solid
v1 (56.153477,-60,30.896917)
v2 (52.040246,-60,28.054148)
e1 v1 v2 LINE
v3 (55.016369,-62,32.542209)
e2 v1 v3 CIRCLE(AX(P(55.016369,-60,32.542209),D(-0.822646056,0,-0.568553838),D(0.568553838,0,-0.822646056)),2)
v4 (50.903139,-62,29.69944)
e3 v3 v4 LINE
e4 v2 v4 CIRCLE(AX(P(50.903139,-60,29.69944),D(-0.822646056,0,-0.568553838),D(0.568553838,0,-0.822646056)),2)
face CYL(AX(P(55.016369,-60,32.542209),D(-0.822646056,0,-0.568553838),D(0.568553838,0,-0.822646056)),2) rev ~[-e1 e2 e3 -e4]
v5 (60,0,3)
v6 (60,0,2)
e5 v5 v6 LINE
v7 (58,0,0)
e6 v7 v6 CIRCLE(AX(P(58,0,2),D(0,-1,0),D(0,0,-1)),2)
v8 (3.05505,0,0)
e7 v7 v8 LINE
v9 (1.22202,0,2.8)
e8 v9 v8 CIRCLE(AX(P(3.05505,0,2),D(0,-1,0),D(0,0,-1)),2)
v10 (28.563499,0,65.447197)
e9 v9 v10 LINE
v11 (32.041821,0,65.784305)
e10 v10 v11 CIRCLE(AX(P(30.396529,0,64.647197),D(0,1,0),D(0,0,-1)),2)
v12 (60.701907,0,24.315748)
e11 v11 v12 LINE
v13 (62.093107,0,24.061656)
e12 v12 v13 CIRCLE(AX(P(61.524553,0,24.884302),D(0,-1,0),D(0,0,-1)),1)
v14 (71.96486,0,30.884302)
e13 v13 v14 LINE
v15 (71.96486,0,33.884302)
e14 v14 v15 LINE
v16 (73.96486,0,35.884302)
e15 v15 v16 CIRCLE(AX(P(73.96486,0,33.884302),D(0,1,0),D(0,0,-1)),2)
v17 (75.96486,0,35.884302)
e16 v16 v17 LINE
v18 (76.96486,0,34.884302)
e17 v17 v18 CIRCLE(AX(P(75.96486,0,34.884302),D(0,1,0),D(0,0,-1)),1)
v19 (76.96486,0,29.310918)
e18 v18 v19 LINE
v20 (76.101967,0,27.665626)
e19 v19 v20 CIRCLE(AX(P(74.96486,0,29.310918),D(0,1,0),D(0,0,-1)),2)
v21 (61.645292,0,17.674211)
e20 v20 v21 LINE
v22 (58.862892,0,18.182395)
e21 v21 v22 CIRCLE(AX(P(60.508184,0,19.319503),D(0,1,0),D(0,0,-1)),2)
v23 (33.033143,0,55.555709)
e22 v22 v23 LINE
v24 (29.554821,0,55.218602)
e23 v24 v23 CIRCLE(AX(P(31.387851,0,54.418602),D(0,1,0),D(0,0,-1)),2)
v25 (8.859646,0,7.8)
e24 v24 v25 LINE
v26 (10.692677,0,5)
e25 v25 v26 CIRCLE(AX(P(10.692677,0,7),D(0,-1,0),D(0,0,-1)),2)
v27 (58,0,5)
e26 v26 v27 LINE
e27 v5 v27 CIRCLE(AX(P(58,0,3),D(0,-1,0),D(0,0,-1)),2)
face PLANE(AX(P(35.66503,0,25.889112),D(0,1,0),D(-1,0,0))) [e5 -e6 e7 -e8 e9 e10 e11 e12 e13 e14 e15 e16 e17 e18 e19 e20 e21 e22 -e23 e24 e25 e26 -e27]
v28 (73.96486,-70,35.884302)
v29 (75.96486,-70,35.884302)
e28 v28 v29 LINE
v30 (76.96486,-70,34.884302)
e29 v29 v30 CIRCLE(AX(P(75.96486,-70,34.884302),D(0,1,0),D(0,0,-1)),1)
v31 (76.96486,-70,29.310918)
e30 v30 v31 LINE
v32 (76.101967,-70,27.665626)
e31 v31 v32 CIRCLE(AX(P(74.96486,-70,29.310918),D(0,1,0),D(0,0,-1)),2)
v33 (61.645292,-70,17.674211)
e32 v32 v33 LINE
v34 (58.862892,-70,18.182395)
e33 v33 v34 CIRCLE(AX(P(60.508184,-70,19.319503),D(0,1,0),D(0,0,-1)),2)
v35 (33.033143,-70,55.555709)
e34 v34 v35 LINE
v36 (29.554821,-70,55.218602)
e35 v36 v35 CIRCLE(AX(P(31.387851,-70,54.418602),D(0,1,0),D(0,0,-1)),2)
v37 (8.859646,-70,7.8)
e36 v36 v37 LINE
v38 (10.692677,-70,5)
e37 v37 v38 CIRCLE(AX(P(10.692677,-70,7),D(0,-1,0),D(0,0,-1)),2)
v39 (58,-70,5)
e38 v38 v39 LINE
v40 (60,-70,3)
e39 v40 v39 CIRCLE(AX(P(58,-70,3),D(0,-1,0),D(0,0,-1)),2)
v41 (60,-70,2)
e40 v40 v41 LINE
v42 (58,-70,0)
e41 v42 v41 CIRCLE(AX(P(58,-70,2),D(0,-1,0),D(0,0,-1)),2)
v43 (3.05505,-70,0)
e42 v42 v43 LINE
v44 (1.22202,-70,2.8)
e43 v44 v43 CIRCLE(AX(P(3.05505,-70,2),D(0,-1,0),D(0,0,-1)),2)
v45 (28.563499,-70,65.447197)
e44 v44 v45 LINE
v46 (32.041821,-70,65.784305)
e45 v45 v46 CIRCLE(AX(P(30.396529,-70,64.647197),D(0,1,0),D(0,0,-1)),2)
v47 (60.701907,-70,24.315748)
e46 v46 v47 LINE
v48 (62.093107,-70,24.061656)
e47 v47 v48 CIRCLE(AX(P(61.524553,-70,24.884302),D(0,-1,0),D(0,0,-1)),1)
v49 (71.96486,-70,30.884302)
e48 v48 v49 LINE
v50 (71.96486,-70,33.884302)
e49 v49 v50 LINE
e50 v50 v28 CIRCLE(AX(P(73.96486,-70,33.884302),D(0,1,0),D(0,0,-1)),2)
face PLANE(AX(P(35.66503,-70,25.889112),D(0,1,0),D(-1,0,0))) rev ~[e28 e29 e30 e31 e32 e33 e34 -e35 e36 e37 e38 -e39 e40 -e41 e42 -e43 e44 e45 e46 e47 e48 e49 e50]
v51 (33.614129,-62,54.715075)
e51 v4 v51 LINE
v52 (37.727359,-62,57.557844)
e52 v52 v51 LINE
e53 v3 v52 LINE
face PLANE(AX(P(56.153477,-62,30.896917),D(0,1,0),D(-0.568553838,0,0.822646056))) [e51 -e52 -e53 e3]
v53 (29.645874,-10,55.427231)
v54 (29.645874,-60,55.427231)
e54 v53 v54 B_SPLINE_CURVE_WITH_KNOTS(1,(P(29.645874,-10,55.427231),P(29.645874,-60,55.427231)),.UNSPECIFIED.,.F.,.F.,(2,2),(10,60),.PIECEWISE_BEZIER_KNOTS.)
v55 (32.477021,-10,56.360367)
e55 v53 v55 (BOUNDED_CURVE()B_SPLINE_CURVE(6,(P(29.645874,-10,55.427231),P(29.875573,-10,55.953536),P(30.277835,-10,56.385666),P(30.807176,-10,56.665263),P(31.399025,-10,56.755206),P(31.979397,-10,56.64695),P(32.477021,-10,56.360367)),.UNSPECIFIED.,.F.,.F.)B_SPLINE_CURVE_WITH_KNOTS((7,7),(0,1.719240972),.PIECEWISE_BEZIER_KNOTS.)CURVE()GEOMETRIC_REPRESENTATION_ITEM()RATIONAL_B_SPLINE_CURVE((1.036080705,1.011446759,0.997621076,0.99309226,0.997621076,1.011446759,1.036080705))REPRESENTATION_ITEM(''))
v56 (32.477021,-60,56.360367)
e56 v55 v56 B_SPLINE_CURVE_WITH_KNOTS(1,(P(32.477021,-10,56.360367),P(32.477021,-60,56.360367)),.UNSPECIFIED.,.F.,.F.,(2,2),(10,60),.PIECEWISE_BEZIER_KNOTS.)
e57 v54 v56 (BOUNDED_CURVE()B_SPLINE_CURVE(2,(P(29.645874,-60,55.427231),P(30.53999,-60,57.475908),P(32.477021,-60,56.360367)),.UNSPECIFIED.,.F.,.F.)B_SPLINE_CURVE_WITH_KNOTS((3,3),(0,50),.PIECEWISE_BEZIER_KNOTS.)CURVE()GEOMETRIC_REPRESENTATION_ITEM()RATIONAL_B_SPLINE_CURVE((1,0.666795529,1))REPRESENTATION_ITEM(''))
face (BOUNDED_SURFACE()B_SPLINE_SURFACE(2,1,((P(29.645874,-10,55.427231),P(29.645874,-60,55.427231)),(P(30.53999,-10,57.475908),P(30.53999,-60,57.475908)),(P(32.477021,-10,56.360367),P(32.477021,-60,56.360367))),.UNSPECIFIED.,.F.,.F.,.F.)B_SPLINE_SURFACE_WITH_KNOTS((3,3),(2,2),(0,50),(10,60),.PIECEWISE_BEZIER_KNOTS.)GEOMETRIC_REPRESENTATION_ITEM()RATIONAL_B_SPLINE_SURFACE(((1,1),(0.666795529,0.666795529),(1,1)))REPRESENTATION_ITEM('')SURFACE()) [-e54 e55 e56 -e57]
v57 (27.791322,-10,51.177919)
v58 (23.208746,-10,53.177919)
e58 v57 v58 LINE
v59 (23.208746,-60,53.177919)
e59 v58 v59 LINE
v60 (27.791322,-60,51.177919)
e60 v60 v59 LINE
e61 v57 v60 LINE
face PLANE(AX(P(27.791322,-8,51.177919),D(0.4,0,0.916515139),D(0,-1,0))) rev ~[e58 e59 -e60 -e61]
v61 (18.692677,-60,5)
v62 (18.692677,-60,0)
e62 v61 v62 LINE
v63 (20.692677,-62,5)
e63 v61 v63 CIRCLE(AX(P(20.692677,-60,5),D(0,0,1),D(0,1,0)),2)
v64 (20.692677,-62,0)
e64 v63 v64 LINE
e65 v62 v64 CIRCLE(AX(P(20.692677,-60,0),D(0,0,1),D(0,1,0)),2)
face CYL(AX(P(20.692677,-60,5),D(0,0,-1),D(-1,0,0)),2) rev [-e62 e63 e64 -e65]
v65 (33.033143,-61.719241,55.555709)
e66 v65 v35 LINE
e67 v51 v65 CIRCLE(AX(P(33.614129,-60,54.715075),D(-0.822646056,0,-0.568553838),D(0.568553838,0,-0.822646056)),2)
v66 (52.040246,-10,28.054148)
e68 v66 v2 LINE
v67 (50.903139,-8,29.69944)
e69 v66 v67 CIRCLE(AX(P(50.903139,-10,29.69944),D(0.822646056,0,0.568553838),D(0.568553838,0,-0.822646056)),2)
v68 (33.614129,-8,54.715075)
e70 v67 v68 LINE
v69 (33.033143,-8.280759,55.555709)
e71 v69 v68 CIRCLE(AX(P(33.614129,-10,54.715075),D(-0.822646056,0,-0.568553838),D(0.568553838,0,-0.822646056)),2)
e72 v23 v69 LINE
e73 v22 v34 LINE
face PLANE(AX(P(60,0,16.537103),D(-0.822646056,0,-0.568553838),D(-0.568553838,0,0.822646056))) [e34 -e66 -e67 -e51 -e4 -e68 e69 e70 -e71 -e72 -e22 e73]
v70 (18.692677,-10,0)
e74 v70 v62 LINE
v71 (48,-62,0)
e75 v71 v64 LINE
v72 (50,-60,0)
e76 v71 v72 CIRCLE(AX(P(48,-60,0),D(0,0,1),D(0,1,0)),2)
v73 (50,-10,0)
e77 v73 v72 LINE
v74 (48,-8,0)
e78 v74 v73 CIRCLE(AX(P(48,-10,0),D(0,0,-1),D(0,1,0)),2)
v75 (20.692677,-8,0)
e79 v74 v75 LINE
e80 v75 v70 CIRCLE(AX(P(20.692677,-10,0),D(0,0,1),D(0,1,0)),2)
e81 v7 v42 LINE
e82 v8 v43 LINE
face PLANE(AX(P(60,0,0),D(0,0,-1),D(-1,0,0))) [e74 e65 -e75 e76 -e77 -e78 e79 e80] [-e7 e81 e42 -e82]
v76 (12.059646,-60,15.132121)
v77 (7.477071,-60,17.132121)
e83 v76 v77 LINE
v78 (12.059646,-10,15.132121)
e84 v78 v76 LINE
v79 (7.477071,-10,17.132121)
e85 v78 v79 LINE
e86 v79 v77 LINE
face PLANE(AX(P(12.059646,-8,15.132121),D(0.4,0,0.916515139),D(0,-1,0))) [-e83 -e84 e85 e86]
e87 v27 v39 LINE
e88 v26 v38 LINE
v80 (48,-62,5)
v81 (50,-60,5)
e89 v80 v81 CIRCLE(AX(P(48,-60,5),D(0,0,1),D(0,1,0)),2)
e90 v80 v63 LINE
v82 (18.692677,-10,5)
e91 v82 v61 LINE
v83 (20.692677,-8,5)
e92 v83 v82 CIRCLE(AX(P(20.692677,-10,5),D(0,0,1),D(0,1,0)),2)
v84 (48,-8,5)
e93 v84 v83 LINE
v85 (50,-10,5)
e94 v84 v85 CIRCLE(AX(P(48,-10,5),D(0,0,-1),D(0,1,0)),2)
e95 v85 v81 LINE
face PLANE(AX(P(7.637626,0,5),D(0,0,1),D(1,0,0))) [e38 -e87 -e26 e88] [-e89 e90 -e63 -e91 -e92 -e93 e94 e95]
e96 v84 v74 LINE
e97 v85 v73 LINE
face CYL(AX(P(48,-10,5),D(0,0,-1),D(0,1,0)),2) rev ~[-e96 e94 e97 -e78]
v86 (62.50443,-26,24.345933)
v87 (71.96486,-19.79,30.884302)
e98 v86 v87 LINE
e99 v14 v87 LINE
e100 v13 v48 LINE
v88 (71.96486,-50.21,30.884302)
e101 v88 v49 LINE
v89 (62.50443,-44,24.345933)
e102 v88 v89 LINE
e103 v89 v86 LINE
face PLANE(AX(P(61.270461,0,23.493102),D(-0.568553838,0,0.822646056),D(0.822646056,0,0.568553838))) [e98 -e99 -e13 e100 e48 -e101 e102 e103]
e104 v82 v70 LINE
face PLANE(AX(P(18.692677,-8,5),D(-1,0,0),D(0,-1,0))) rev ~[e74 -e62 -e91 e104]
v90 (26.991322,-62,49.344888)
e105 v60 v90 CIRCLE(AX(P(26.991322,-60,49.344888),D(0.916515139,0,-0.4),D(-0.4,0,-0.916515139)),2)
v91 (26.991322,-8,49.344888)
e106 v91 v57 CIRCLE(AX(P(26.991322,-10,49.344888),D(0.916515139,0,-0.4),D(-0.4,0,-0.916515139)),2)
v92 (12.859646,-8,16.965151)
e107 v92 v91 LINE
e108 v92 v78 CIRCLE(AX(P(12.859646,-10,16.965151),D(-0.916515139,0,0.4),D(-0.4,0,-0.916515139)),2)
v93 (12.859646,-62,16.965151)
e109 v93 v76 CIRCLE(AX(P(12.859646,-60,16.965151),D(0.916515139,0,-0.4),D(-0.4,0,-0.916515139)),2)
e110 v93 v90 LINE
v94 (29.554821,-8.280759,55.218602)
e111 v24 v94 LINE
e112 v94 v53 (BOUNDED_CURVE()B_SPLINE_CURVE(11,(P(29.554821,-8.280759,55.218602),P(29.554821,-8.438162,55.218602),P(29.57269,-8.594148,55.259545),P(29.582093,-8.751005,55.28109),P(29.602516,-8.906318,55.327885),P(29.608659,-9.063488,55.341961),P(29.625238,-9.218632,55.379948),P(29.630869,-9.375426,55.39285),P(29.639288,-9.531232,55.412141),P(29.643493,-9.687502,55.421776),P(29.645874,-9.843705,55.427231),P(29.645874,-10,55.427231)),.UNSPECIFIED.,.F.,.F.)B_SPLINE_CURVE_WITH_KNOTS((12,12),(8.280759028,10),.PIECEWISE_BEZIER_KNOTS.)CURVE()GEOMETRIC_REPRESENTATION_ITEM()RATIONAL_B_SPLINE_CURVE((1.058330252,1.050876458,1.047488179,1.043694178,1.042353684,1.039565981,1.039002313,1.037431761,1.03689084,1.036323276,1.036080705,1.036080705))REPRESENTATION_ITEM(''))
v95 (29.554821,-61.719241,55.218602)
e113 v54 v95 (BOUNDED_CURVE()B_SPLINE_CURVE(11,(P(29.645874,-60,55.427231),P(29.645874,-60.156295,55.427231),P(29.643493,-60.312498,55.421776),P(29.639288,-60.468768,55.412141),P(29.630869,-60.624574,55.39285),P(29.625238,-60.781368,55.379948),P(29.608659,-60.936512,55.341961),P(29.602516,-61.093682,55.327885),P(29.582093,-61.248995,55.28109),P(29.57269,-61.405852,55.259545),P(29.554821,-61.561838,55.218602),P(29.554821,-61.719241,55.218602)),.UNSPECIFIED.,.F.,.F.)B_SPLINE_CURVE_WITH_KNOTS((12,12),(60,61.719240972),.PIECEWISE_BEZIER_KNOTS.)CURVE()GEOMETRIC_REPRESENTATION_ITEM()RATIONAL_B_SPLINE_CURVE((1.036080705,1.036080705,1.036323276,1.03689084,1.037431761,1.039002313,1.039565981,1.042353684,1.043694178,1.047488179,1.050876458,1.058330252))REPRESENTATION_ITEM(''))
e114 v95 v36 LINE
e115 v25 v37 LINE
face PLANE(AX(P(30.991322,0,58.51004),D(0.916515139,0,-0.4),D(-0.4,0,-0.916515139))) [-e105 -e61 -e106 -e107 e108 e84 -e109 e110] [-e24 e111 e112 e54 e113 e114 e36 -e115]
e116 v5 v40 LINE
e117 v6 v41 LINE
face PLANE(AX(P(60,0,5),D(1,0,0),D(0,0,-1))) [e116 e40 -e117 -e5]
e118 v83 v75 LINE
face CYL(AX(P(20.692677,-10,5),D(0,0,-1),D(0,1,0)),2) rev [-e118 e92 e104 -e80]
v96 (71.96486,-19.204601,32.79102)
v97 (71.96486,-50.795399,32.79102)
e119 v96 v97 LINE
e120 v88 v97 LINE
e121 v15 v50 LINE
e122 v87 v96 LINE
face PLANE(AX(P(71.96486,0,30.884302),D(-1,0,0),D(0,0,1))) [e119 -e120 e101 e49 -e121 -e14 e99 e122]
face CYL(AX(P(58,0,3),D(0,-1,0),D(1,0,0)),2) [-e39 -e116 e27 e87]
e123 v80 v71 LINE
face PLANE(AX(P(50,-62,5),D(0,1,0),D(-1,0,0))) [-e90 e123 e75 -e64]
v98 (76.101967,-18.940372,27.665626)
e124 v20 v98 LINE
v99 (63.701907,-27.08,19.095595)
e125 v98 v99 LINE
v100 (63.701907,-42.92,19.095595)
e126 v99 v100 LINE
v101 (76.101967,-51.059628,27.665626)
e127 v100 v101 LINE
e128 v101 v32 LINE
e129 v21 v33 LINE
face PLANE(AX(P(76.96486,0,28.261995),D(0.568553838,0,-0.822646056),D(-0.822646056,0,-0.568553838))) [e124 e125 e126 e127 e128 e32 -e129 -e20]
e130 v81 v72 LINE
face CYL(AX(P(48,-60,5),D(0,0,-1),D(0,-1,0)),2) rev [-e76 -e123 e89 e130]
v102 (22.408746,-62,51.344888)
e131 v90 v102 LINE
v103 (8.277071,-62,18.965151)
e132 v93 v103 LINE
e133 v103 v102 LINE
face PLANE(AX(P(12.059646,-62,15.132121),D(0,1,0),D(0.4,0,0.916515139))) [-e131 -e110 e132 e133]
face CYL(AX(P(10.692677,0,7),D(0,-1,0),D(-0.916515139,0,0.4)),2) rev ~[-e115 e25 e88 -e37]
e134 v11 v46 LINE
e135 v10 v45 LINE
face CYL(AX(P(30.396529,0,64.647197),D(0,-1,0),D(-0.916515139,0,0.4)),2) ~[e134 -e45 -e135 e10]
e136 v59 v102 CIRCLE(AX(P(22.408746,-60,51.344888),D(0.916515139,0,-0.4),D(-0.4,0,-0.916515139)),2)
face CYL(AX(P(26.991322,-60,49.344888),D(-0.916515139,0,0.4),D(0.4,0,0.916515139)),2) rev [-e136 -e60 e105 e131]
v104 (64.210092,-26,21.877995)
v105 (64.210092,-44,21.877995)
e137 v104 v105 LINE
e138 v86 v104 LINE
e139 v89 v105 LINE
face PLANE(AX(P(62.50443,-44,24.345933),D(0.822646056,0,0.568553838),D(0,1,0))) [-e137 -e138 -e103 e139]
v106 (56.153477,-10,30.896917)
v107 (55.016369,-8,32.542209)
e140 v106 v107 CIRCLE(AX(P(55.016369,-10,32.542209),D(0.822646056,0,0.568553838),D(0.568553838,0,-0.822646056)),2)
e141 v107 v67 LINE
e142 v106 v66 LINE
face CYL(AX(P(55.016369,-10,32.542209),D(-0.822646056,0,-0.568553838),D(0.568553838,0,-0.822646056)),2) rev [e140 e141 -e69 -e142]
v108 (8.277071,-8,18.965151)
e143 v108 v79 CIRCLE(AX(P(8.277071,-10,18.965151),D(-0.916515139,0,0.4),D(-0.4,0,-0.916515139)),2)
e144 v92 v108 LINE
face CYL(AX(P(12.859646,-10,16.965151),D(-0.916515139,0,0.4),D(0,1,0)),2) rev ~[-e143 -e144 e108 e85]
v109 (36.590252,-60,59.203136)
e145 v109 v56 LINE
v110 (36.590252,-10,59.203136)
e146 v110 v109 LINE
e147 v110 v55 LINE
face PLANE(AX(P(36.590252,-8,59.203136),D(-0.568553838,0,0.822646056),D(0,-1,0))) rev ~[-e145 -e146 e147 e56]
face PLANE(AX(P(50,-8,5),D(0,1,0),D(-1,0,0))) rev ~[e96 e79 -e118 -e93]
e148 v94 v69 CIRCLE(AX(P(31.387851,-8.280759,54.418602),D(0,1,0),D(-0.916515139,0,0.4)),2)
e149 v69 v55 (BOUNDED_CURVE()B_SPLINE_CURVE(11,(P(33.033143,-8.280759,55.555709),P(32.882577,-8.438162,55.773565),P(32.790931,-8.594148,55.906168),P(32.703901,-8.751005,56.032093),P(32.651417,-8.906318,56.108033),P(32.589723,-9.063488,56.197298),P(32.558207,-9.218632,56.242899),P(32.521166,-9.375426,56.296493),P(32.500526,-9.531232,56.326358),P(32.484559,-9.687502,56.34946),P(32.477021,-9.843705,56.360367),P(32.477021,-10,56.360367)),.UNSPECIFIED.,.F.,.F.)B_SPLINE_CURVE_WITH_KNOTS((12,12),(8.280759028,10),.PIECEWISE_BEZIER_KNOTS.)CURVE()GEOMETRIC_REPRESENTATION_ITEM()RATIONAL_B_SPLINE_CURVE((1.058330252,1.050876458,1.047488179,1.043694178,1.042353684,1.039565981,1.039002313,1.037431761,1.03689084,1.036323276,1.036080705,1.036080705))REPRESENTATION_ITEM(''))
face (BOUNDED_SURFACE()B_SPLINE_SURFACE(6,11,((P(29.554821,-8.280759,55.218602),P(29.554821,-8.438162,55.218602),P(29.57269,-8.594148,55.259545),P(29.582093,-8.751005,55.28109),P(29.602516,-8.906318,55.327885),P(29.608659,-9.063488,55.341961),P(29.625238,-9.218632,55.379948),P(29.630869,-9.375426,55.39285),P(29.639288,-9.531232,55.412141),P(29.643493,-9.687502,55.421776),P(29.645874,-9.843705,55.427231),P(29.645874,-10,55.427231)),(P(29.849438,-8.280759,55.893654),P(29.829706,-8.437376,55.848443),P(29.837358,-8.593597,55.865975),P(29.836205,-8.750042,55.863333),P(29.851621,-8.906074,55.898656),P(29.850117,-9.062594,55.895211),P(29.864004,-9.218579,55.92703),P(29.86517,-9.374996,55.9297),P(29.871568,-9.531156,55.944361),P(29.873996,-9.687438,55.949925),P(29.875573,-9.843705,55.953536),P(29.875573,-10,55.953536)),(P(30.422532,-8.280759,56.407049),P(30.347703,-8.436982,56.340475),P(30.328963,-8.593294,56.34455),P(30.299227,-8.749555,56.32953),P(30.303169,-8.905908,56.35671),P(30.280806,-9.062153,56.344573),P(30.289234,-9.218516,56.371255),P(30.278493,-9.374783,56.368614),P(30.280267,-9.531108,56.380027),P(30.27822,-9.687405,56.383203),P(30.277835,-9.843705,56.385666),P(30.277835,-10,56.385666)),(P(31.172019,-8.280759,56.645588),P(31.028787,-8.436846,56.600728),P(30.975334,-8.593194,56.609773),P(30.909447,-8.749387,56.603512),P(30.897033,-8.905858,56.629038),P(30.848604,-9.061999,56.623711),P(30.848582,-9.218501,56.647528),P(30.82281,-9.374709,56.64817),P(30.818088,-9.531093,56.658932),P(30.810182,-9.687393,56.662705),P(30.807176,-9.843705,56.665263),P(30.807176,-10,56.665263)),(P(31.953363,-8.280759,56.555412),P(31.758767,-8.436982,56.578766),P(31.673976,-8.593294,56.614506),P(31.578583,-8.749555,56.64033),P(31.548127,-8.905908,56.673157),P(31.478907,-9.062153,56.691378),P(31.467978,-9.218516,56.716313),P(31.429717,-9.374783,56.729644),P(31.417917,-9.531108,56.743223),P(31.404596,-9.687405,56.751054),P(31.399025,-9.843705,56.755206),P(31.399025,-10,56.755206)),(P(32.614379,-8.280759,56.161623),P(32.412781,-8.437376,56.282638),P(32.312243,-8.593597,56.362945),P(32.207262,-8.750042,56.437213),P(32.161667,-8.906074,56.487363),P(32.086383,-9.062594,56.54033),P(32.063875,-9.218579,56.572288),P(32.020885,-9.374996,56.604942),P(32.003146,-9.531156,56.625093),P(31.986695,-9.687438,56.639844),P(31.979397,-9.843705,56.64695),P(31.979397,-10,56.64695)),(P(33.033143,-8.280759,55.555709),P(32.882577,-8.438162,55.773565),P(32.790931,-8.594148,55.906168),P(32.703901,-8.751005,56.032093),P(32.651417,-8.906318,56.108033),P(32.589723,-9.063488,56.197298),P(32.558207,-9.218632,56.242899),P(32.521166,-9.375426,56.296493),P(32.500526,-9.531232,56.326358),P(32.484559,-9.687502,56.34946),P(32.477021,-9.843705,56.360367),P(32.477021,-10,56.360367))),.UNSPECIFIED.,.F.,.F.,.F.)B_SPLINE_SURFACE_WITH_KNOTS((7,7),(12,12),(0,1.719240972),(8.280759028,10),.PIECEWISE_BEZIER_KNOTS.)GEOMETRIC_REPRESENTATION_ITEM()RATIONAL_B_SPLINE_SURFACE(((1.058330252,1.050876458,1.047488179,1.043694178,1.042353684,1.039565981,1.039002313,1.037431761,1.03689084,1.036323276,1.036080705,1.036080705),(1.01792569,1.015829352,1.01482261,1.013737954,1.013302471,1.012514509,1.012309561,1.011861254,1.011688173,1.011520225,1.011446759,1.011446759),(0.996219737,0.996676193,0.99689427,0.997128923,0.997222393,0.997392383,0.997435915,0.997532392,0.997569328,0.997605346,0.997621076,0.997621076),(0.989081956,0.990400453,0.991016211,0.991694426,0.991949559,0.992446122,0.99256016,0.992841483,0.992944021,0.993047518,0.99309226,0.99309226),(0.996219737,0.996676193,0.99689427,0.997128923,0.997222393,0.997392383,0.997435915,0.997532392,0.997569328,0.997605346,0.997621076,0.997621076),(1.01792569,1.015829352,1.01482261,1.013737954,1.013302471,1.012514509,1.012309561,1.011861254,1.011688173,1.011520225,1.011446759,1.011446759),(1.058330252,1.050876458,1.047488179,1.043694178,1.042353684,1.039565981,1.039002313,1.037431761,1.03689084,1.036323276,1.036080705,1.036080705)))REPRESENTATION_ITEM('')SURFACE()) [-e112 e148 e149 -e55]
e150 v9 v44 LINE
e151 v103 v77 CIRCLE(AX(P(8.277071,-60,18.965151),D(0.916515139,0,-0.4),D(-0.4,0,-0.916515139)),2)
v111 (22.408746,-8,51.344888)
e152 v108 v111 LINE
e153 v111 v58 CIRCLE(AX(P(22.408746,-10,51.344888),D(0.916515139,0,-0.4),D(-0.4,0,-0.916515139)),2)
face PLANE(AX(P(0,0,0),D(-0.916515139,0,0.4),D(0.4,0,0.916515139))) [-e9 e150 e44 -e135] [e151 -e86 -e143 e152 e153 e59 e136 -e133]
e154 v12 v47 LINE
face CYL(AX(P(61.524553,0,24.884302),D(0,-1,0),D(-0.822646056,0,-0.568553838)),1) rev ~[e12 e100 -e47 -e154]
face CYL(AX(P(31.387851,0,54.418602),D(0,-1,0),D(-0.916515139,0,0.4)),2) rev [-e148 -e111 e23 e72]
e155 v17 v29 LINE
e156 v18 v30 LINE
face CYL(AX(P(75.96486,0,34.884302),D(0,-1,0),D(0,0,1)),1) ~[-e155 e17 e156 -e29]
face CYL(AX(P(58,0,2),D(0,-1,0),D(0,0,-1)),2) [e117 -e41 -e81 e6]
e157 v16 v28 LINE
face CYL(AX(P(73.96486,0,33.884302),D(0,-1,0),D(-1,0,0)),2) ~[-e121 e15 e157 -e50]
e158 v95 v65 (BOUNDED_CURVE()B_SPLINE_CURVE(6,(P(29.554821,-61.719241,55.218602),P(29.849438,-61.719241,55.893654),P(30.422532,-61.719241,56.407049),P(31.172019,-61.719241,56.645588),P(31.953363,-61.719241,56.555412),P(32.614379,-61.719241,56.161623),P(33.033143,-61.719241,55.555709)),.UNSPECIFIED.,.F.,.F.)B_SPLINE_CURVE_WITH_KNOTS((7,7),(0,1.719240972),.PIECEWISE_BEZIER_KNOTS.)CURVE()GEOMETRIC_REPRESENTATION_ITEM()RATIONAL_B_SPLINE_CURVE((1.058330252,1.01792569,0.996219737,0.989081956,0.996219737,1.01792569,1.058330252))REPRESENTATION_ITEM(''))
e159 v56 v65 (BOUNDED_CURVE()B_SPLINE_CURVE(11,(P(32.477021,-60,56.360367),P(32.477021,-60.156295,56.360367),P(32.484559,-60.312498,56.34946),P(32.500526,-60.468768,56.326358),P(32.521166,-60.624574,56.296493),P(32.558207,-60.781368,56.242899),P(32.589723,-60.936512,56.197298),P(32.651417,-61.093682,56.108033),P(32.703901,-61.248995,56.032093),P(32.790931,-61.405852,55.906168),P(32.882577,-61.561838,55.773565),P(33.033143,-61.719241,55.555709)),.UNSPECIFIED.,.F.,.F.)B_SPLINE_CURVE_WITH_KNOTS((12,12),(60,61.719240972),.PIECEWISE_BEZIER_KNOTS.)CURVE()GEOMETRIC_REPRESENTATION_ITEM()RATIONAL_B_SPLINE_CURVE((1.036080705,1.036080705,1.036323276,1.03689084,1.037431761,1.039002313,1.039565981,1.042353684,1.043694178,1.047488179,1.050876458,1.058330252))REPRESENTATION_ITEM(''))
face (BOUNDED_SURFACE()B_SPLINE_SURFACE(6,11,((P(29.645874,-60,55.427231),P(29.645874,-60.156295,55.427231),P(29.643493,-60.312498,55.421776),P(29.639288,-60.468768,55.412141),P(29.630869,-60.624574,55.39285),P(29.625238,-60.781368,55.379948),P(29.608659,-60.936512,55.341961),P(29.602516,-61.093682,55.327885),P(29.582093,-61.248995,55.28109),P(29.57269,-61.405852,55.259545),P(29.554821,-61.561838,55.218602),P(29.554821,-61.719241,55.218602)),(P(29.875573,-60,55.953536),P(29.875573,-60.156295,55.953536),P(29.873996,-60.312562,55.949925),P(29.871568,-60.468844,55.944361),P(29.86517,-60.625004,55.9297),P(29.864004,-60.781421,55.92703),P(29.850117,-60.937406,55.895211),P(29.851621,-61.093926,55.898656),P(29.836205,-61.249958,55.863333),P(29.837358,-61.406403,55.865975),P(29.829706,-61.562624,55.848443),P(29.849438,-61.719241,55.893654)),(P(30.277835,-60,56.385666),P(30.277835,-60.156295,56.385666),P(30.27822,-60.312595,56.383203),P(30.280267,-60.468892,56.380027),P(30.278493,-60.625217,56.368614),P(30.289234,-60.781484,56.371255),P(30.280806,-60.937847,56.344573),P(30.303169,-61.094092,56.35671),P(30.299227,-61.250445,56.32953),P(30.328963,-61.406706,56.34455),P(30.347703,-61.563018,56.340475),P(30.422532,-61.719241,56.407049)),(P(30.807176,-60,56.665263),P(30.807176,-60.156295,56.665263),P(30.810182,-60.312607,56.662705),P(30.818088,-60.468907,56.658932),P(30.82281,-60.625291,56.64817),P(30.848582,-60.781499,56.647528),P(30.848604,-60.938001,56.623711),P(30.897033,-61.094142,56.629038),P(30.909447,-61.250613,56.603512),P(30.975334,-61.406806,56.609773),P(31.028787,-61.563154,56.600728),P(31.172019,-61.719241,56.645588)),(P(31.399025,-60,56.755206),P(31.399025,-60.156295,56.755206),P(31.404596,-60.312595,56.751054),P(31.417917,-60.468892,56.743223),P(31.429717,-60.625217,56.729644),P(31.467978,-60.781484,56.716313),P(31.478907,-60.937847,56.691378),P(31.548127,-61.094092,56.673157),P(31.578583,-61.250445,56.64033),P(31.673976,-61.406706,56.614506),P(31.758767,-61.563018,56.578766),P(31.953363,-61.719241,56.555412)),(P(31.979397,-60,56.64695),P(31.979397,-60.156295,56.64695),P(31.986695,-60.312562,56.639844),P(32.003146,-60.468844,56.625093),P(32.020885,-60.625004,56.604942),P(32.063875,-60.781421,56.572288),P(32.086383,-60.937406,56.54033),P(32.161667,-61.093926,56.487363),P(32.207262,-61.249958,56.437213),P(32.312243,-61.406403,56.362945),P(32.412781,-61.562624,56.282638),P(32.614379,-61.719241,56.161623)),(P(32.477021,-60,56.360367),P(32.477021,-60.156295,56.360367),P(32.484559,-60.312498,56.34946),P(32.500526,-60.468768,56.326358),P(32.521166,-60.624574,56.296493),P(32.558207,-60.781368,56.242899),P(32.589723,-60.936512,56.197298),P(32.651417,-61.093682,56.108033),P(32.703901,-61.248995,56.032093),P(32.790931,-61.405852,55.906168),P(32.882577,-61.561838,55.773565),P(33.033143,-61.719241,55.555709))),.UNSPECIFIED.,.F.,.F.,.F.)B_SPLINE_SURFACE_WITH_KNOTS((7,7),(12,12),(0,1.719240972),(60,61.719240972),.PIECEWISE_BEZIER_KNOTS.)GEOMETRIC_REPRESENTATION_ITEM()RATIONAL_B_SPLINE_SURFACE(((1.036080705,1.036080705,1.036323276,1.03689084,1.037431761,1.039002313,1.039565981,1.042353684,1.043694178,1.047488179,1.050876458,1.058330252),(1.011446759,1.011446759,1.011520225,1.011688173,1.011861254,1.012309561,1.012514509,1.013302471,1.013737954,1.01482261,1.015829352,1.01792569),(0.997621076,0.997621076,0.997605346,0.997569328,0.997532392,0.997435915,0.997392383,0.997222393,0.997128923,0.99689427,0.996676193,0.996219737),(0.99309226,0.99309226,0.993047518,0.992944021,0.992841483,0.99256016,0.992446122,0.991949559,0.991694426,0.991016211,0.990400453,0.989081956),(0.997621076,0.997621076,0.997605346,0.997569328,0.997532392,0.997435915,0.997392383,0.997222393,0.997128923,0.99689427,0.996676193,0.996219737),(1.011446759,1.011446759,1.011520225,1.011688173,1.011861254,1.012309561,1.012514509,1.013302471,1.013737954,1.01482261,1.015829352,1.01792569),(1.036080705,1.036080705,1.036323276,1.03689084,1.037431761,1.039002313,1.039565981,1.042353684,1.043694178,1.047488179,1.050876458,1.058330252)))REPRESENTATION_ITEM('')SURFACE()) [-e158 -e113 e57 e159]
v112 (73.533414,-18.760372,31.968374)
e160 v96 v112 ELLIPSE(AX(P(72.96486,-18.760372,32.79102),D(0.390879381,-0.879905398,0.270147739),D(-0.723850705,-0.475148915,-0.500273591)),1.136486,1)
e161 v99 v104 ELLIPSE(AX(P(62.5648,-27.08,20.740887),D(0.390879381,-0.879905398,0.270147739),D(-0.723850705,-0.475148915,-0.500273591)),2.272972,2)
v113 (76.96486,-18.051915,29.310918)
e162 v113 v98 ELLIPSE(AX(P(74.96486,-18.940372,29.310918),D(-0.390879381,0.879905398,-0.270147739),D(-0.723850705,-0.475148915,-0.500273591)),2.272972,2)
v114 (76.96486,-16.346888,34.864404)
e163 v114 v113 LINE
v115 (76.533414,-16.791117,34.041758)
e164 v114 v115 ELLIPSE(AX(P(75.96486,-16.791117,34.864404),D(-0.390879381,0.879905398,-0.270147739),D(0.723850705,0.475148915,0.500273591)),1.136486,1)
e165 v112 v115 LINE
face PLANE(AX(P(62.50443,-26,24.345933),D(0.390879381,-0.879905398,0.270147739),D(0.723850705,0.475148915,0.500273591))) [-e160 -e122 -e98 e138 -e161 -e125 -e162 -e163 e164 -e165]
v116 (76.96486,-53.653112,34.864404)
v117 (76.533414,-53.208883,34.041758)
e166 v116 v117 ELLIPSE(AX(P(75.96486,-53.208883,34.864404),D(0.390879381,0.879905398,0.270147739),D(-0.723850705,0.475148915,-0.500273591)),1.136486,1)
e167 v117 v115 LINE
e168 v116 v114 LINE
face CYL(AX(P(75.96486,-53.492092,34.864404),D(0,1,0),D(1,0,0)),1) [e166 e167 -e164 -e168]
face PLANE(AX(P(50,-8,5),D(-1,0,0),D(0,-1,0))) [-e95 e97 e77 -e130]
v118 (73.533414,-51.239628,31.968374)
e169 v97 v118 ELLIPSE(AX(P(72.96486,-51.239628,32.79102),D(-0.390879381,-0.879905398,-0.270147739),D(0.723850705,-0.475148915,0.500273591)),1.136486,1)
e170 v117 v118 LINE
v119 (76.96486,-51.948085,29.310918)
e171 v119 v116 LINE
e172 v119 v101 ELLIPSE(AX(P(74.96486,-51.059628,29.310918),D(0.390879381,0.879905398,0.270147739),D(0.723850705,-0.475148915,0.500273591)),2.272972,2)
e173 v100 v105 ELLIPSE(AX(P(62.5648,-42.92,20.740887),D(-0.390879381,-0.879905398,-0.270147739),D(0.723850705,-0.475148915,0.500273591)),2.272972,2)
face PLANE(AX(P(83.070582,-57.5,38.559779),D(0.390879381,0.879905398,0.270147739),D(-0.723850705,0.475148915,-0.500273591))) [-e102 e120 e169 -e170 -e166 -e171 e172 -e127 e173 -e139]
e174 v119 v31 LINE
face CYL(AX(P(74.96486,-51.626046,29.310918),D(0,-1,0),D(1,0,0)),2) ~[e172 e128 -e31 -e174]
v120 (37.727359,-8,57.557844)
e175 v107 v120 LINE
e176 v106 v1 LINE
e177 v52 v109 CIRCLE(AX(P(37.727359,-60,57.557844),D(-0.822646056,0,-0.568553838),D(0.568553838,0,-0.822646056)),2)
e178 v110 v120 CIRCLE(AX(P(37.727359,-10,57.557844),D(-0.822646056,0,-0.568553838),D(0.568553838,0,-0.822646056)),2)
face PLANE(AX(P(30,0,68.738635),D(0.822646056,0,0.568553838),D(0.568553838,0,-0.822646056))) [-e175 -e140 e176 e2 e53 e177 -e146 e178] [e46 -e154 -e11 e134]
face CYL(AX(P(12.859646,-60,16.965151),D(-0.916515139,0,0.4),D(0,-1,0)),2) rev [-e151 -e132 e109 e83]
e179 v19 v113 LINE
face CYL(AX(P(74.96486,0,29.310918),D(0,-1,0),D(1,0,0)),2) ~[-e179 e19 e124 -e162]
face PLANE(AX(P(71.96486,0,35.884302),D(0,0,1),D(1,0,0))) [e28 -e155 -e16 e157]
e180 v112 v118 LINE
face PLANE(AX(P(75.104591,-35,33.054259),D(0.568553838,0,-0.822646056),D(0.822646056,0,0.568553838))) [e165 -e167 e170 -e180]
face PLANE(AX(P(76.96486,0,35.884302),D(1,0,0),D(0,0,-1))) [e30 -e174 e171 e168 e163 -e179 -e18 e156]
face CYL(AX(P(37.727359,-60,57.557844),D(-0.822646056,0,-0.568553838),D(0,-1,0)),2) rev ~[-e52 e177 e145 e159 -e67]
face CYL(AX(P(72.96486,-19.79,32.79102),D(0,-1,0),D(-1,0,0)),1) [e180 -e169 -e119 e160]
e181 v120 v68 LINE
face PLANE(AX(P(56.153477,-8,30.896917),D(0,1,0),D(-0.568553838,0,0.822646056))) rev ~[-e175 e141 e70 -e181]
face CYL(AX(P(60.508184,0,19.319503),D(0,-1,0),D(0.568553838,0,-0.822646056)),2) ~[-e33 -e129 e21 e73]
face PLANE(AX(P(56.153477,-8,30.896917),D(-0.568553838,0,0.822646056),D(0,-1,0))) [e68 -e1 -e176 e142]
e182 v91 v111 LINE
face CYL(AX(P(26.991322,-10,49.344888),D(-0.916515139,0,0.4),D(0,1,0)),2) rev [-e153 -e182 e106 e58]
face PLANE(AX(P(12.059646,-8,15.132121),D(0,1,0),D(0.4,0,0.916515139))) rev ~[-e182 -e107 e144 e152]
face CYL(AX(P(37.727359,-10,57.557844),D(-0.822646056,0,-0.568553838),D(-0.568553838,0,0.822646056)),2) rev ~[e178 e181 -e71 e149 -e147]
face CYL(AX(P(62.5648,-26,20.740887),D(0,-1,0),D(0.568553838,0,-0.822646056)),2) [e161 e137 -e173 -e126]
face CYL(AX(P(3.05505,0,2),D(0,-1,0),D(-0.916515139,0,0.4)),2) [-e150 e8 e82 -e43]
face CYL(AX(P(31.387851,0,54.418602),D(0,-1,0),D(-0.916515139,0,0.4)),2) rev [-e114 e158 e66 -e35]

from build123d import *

# Parameters (mm, degrees)
PAD_DEPTH       = 70
POCKET_DEPTH    = 28.2506186199
FILLET_R        = 2
FILLET001_R     = 1
FILLET002_R     = 2
FILLET003_R     = 2
SKETCH002_W     = 34.4087464699
SKETCH002_H     = 54
POCKET001_DEPTH = 5
SKETCH003_W     = 39.3291895531
SKETCH003_H     = 54
POCKET002_DEPTH = 5
SKETCH004_W     = 31.3073233784
SKETCH004_H     = 54
POCKET003_DEPTH = 5
FILLET004_R     = 2
FILLET005_R     = 2


with BuildPart() as part:
    # Sketch → Pad (new body)
    with BuildSketch(Plane.XZ):
        Polygon((0, 0), (30, 68.7386354243), (61.2704610896, 23.4931023493), (71.9648598164, 30.8843022432), (71.9648598164, 35.8843022432), (76.9648598164, 35.8843022432), (76.9648598164, 28.2619948796), (60, 16.5371028798), (30.9913221648, 58.5100398536), (7.6376261583, 5), (60, 5), (60, 0), align=None)
    extrude(amount=PAD_DEPTH)

    # Sketch001 (on Face3 of Pad) → Pocket (cut, through all)
    with BuildSketch(Plane(origin=(8.8177286613, 0, -12.7584570195), x_dir=(-0.8226460559, 0, -0.568553838), z_dir=(-0.568553838, 0, 0.8226460559))):
        Polygon((-90.2609966662, 57.5), (-65.2609966662, 44), (-65.2609966662, 26), (-90.2609966662, 12.5), align=None)
    extrude(amount=-POCKET_DEPTH, mode=Mode.SUBTRACT)

    # Fillet
    fillet_edges = [part.edges().sort_by_distance(p)[0] for p in [
        (60, -35, 5),
        (60, -35, 0),
        (30, -35, 68.738635),
        (0, -35, 0),
        (60, -35, 16.537103),
        (71.96486, -35, 35.884302),
        (76.96486, -60.813023, 28.261995),
        (76.96486, -9.186977, 28.261995),
    ]]
    fillet(fillet_edges, radius=FILLET_R)

    # Fillet001
    fillet001_edges = [part.edges().sort_by_distance(p)[0] for p in [
        (61.270461, -35, 23.493102),
        (76.96486, -35, 35.884302),
        (76.96486, -35, 34.339943),
        (71.96486, -35, 30.884302),
    ]]
    fillet(fillet001_edges, radius=FILLET001_R)

    # Fillet002
    fillet002_edges = [part.edges().sort_by_distance(p)[0] for p in [
        (7.637626, -35, 5),
    ]]
    fillet(fillet002_edges, radius=FILLET002_R)

    # Fillet003
    fillet003_edges = [part.edges().sort_by_distance(p)[0] for p in [
        (65.347199, -35, 20.232703),
    ]]
    fillet(fillet003_edges, radius=FILLET003_R)

    # Sketch002 (on Face29 of Fillet003) → Pocket001 (cut)
    with BuildSketch(Plane(origin=(52.4527324283, 0, 36.2515593688), x_dir=(-0.568553838, 0, 0.8226460559), z_dir=(0.8226460559, 0, 0.568553838))):
        with Locations((10.6953254156, 35)):
            Rectangle(SKETCH002_W, SKETCH002_H)
    extrude(amount=-POCKET001_DEPTH, mode=Mode.SUBTRACT)

    # Sketch003 (on Face20 of Pocket001) → Pocket002 (cut)
    with BuildSketch(Plane(origin=(4.582575695, 0, -2), x_dir=(0.4, 0, 0.916515139), z_dir=(0.916515139, 0, -0.4))):
        with Locations((38.3572713981, 35)):
            Rectangle(SKETCH003_W, SKETCH003_H)
    extrude(amount=-POCKET002_DEPTH, mode=Mode.SUBTRACT)

    # Sketch004 (on Face17 of Pocket002) → Pocket003 (cut)
    with BuildSketch(Plane(origin=(0, 0, 5), x_dir=(-1, 0, 0), z_dir=(0, 0, 1))):
        with Locations((-34.3463383108, 35)):
            Rectangle(SKETCH004_W, SKETCH004_H)
    extrude(amount=-POCKET003_DEPTH, mode=Mode.SUBTRACT)

    # Fillet004
    fillet004_edges = [part.edges().sort_by_distance(p)[0] for p in [
        (54.096861, -8, 29.475532),
        (34.533637, -8, 57.781752),
        (34.533637, -62, 57.781752),
        (54.096861, -62, 29.475532),
        (18.692677, -62, 2.5),
        (18.692677, -8, 2.5),
        (50, -8, 2.5),
        (50, -62, 2.5),
        (9.768358, -62, 16.132121),
        (9.768358, -8, 16.132121),
        (25.500034, -8, 52.177919),
        (25.500034, -62, 52.177919),
    ]]
    fillet(fillet004_edges, radius=FILLET004_R)

    # Fillet005
    fillet005_edges = [part.edges().sort_by_distance(p)[0] for p in [
        (30.991322, -35, 58.51004),
    ]]
    fillet(fillet005_edges, radius=FILLET005_R)


solid = part.part
